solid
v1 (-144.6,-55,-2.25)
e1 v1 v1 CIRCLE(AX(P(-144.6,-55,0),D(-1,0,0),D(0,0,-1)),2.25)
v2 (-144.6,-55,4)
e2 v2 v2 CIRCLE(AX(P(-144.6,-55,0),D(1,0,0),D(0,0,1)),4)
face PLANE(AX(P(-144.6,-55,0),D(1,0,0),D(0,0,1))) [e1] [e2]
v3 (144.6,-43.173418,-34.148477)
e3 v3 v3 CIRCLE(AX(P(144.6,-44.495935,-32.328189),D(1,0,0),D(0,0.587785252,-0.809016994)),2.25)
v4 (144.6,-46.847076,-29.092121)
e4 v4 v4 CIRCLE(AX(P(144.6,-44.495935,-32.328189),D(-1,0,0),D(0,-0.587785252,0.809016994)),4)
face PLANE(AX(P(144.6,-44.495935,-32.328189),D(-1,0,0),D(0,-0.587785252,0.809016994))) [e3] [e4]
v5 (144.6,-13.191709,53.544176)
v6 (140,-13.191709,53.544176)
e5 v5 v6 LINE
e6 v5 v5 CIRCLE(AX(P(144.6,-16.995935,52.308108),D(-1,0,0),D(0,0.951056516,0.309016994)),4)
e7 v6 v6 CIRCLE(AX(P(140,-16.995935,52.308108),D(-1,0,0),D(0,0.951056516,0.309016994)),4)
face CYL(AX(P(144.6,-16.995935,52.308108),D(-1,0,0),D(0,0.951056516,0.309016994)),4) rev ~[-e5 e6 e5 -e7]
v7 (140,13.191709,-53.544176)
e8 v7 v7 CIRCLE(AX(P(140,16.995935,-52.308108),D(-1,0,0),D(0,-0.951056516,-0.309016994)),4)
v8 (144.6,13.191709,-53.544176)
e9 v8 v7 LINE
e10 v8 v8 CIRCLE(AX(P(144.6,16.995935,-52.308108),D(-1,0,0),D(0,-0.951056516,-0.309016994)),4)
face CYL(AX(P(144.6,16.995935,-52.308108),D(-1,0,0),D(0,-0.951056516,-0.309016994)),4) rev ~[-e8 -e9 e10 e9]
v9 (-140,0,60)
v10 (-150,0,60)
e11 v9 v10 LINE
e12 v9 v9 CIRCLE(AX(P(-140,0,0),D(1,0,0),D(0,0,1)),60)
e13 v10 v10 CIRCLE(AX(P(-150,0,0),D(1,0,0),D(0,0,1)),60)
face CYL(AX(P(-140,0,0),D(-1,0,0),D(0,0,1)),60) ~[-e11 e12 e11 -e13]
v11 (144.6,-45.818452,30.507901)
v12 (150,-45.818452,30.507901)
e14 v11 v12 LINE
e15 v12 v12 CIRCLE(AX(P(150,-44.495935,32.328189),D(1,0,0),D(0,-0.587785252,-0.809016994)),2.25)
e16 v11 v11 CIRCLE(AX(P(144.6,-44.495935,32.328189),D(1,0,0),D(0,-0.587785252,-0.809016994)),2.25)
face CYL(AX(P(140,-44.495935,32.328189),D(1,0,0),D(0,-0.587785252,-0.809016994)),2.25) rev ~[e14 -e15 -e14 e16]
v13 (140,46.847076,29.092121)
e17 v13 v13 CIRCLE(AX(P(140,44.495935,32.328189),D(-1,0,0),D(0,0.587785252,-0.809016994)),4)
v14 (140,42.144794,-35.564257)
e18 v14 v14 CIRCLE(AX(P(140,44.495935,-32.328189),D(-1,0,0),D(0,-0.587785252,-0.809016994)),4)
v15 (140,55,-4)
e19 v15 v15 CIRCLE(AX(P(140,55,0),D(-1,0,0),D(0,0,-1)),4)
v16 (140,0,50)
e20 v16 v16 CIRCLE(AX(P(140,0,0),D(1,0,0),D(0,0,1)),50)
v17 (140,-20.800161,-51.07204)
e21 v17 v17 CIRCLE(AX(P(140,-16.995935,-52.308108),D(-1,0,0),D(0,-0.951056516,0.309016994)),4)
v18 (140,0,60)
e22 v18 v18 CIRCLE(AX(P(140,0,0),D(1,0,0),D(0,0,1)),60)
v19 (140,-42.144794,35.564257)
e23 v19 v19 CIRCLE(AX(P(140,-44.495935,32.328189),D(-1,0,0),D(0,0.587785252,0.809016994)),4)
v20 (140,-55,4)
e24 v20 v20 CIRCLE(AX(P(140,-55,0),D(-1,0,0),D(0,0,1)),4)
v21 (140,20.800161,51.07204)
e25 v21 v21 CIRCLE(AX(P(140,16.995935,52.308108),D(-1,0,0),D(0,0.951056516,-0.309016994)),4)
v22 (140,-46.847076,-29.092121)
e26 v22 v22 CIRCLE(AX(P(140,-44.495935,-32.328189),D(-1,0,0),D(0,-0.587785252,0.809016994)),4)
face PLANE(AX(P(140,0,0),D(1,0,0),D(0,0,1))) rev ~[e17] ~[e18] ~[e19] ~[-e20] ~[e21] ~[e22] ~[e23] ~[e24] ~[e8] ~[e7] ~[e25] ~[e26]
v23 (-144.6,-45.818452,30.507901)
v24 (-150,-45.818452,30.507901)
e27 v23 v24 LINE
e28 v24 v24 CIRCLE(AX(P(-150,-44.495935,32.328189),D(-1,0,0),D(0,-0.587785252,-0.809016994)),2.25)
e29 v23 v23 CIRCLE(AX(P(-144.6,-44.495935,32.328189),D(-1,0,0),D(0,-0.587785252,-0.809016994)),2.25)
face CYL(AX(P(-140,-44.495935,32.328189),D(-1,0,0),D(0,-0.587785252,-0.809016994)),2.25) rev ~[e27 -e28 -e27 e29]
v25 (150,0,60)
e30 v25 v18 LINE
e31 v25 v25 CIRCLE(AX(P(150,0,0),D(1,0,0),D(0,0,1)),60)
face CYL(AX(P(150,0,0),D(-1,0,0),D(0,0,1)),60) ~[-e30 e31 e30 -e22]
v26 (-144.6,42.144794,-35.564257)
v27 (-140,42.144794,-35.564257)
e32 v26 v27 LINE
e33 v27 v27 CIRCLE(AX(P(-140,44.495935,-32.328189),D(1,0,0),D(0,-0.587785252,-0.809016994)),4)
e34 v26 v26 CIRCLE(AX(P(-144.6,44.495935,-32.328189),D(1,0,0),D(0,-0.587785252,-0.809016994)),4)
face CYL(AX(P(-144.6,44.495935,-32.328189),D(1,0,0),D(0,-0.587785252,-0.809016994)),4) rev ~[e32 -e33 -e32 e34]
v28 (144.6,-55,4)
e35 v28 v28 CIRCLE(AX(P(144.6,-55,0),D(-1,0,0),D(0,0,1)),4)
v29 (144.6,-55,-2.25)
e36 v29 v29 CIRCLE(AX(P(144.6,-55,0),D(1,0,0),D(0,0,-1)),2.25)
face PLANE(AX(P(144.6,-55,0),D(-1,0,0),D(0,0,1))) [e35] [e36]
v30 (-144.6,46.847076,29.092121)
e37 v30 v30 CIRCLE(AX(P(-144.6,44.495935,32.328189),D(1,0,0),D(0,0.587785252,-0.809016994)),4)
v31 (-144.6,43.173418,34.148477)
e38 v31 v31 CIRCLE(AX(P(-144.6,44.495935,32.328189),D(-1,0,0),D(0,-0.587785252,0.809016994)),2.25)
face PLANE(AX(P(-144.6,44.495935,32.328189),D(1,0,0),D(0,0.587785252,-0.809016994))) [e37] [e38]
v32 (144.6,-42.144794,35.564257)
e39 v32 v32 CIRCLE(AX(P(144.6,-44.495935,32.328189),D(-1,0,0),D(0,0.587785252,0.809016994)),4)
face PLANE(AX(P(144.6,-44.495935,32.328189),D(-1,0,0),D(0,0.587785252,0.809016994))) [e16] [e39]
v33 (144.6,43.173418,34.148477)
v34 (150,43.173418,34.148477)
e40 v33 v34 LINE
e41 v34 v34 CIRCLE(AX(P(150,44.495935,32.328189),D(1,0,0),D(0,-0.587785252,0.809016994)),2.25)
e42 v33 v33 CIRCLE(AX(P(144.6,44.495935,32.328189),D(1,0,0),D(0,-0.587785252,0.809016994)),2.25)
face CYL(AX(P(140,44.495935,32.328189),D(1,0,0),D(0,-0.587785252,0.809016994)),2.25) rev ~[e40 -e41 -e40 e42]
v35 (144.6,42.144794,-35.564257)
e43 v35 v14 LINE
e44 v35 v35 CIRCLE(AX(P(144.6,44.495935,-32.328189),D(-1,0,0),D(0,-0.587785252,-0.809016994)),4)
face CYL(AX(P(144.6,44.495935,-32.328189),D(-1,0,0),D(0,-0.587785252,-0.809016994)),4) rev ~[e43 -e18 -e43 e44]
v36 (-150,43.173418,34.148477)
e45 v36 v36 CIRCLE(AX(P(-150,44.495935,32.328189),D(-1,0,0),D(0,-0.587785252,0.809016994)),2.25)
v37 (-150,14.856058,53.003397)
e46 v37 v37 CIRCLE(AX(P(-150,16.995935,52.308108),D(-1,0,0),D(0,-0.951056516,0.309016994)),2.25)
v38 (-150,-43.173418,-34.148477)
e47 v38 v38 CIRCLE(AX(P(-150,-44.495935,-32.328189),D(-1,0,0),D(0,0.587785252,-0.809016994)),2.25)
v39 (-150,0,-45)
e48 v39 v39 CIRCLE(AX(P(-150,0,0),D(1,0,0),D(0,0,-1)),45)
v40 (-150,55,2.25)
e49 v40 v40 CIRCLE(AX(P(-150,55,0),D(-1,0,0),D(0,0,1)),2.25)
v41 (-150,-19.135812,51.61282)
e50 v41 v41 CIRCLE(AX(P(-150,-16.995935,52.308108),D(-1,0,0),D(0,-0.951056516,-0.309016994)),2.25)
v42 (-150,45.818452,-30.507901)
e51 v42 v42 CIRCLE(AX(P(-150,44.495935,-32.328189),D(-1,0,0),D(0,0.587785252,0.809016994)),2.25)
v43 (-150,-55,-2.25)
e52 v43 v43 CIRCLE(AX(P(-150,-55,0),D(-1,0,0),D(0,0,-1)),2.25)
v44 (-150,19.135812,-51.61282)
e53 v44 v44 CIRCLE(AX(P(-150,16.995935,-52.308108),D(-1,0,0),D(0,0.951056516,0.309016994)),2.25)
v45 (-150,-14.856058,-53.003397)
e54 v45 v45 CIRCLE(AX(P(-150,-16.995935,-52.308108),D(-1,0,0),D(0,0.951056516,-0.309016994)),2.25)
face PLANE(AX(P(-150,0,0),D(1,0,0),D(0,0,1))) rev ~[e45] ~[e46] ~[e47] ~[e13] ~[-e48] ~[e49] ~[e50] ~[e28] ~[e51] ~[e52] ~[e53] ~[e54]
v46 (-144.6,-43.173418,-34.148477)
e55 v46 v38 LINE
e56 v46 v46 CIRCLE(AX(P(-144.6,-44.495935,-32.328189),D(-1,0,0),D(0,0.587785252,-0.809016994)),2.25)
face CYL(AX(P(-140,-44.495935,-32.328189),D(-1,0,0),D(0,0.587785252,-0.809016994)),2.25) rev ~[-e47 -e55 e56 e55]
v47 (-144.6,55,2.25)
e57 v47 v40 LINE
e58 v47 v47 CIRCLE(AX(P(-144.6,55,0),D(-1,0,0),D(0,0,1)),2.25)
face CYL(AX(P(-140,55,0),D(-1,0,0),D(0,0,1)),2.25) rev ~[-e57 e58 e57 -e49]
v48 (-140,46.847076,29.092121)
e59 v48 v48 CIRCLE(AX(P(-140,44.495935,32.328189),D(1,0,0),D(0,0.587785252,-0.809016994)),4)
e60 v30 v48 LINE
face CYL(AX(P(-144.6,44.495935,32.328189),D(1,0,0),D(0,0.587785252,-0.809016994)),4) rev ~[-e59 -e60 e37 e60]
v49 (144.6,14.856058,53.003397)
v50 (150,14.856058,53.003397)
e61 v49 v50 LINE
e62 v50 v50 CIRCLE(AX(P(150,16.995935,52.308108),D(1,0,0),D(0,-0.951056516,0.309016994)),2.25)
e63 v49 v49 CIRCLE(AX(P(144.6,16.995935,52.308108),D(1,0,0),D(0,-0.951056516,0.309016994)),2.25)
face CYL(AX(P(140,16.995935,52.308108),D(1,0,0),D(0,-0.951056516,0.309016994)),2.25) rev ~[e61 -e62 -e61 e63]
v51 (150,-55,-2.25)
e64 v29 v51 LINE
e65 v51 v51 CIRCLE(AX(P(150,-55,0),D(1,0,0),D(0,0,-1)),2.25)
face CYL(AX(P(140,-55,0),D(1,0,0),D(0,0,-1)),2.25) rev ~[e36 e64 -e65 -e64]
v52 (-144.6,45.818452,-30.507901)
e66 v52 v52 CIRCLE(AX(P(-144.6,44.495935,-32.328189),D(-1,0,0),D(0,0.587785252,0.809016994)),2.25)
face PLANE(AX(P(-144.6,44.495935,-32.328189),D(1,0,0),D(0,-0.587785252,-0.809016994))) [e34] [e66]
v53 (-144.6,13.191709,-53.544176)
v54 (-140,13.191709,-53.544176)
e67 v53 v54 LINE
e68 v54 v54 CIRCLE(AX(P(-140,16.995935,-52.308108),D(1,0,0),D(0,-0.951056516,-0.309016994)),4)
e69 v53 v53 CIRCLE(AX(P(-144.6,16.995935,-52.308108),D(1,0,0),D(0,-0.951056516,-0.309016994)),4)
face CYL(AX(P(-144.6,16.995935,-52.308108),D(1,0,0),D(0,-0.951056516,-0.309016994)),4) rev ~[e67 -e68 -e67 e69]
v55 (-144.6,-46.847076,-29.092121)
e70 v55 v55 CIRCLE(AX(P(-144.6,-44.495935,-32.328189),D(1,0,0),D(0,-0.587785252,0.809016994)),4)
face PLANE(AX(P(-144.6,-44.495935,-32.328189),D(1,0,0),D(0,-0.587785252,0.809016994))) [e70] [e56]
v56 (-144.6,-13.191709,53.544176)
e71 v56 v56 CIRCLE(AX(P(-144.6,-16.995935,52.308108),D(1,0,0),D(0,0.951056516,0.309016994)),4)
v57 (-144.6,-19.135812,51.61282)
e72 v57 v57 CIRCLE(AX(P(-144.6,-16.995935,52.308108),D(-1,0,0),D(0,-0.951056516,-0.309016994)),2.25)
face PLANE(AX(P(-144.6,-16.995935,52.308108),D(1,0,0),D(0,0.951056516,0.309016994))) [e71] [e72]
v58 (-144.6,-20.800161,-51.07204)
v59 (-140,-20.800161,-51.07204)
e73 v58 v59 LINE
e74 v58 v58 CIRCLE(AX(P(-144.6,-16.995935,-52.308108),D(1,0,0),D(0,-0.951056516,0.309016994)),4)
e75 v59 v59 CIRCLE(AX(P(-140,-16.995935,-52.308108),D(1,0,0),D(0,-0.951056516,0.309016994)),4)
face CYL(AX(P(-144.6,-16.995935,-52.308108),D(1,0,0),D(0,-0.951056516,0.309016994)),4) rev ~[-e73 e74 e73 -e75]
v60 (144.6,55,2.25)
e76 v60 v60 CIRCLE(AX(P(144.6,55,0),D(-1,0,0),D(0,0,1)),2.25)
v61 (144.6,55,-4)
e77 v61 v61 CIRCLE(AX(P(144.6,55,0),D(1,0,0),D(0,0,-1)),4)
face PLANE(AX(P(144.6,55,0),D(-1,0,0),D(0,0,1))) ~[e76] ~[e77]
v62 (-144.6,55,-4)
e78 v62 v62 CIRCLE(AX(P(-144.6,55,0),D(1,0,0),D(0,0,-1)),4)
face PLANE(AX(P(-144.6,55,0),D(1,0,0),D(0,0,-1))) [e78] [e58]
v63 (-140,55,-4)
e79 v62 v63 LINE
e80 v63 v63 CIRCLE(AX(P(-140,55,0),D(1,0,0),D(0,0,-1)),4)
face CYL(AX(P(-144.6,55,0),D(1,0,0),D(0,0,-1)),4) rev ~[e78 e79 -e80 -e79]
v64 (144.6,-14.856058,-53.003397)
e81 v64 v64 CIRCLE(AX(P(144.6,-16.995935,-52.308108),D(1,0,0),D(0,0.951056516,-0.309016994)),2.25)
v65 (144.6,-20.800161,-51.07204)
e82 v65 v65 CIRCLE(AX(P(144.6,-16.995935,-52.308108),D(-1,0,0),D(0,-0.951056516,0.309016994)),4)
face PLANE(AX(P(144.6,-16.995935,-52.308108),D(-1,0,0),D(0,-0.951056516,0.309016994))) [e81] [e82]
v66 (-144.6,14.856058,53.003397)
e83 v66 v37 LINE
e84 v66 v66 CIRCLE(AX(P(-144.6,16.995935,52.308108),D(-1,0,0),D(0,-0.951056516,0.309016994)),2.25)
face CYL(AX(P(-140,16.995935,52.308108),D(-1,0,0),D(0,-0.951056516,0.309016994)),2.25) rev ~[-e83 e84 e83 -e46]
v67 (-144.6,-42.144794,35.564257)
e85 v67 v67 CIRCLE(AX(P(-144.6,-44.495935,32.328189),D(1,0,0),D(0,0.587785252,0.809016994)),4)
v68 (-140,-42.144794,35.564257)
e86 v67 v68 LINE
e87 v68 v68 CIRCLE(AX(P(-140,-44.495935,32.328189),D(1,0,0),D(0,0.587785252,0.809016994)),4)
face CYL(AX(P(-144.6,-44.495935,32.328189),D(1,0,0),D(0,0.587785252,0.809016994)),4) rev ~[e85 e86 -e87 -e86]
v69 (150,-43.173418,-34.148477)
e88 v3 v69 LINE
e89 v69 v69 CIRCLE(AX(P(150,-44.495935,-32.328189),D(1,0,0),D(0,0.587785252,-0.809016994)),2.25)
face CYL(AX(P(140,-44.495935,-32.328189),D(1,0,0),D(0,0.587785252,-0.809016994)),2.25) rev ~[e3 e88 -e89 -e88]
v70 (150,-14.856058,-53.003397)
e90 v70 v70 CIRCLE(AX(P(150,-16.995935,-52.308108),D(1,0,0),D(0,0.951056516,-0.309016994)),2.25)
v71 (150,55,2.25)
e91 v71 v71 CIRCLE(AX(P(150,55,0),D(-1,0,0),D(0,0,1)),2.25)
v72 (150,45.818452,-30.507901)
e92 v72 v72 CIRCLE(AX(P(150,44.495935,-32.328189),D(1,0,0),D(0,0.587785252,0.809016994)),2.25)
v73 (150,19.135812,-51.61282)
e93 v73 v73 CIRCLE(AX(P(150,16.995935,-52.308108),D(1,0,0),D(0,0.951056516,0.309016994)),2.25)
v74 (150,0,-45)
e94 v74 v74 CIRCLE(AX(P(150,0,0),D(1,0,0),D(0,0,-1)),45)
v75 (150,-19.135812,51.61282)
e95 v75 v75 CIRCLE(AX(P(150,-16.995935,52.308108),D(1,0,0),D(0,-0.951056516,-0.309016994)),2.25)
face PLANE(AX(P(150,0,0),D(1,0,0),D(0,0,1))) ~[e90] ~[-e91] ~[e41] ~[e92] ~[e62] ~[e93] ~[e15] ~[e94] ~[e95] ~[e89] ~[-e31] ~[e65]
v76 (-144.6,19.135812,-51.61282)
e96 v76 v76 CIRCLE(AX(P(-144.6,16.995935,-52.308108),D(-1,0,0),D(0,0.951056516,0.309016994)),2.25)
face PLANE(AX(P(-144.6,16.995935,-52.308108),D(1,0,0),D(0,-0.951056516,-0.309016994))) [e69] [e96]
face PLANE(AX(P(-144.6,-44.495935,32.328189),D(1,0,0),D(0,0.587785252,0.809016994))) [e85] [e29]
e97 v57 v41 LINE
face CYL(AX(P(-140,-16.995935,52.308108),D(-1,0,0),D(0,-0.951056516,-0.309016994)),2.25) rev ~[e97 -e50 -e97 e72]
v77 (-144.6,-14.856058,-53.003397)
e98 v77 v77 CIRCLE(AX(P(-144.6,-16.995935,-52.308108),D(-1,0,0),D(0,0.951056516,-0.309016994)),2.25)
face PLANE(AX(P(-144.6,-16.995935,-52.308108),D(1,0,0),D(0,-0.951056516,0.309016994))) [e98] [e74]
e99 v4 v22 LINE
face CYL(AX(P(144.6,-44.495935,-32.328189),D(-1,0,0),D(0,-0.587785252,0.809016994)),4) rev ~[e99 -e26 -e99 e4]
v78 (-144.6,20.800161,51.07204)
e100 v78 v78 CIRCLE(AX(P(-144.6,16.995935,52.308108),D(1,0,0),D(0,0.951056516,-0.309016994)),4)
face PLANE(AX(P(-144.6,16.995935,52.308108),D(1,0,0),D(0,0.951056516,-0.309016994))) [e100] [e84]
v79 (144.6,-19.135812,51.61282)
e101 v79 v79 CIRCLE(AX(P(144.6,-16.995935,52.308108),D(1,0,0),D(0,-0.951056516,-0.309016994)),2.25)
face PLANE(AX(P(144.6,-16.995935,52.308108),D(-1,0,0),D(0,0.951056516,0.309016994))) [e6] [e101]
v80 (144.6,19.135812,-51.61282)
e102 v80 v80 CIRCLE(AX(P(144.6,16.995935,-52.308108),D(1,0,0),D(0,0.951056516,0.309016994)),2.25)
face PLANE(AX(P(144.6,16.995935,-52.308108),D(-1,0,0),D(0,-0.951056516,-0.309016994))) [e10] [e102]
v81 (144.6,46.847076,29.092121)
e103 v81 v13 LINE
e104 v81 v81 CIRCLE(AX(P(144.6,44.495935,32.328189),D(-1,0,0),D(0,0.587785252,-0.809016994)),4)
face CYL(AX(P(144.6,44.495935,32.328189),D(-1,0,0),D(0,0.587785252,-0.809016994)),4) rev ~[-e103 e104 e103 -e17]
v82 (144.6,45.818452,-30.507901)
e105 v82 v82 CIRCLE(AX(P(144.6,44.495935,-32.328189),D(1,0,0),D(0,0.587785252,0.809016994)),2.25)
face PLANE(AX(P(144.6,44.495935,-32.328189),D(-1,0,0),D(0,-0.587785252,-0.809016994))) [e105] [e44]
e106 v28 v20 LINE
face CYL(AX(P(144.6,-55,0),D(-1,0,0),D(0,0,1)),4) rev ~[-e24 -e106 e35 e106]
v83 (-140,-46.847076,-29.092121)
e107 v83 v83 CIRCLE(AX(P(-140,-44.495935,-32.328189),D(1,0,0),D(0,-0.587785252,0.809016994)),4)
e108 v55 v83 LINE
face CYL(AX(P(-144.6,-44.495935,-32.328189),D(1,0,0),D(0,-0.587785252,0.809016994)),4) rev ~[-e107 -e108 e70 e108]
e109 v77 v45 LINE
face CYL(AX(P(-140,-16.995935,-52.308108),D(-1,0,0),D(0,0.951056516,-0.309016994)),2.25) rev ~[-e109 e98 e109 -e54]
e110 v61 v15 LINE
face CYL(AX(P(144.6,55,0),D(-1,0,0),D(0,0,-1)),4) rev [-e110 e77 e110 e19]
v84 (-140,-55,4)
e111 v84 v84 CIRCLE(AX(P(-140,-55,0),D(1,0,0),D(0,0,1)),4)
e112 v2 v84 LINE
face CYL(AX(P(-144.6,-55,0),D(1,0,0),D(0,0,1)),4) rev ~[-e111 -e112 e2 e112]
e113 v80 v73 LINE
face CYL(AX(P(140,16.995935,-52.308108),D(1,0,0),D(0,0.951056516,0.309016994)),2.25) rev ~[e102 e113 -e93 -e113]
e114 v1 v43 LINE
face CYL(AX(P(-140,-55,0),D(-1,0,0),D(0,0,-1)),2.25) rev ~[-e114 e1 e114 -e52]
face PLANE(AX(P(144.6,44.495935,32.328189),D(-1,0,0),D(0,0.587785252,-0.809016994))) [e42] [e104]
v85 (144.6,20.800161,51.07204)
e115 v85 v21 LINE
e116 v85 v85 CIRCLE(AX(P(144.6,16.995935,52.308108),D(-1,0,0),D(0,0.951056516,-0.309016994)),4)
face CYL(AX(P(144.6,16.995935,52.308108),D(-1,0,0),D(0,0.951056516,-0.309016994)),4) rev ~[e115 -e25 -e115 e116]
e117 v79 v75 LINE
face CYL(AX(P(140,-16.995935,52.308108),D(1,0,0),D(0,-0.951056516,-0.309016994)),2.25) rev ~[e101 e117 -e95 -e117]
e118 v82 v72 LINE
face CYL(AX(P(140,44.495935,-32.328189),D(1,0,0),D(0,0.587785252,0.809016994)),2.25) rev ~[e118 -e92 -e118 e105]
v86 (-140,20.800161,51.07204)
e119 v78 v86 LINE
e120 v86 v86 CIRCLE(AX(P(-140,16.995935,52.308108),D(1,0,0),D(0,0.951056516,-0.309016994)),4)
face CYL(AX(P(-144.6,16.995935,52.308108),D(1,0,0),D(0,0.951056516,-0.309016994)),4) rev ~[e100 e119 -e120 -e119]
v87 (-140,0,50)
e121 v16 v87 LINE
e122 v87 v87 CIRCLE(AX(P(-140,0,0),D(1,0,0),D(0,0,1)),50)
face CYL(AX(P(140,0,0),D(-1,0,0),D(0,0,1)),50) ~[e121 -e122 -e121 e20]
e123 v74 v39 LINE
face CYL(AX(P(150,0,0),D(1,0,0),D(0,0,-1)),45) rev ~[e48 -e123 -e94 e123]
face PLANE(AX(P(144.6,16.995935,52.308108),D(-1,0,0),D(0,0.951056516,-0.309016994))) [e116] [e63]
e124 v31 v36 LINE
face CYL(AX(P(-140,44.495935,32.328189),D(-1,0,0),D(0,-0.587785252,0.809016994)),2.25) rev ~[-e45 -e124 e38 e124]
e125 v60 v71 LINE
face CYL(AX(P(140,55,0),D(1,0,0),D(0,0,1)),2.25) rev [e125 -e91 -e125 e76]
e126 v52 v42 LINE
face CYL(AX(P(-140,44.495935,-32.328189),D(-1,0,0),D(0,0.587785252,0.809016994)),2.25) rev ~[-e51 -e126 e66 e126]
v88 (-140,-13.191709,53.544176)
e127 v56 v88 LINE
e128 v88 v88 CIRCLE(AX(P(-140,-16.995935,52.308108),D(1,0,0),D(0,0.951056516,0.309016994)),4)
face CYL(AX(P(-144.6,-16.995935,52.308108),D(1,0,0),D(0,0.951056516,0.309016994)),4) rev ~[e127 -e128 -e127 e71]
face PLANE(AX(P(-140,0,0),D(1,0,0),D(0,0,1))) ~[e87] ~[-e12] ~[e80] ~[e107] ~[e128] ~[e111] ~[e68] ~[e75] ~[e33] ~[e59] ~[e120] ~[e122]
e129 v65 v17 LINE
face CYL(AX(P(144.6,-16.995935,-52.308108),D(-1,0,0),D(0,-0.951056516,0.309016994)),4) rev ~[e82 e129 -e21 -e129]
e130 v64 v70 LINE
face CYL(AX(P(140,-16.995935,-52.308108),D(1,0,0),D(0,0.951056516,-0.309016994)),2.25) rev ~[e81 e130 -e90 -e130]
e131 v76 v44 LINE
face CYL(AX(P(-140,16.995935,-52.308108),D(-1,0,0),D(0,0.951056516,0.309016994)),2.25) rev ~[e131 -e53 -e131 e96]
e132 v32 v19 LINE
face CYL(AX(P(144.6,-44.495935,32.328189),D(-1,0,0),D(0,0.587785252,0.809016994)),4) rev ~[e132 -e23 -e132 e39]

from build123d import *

# Parameters (mm, degrees)
SKETCH_3_R                  = 45
CUT_EXTRUDE_1_DEPTH         = 312.769145362
HOLE_WIZARD_4_D             = 4.5
HOLE_WIZARD_4_DEPTH         = 10
HOLE_WIZARD_4_CBORE_D       = 8
HOLE_WIZARD_4_CBORE_DEPTH   = 4.6
PATTERN_CIRCULAR_1_COUNT    = 10
MIRROR_1_COPY_1_D           = 4.5
MIRROR_1_COPY_1_DEPTH       = 10
MIRROR_1_COPY_1_CBORE_D     = 8
MIRROR_1_COPY_1_CBORE_DEPTH = 4.6
MIRROR_1_COPY_2_D           = 4.5
MIRROR_1_COPY_2_DEPTH       = 10
MIRROR_1_COPY_2_CBORE_D     = 8
MIRROR_1_COPY_2_CBORE_DEPTH = 4.6
MIRROR_1_COPY_3_D           = 4.5
MIRROR_1_COPY_3_DEPTH       = 10
MIRROR_1_COPY_3_CBORE_D     = 8
MIRROR_1_COPY_3_CBORE_DEPTH = 4.6
MIRROR_1_COPY_4_D           = 4.5
MIRROR_1_COPY_4_DEPTH       = 10
MIRROR_1_COPY_4_CBORE_D     = 8
MIRROR_1_COPY_4_CBORE_DEPTH = 4.6
MIRROR_1_COPY_5_D           = 4.5
MIRROR_1_COPY_5_DEPTH       = 10
MIRROR_1_COPY_5_CBORE_D     = 8
MIRROR_1_COPY_5_CBORE_DEPTH = 4.6
MIRROR_1_COPY_6_D           = 4.5
MIRROR_1_COPY_6_DEPTH       = 10
MIRROR_1_COPY_6_CBORE_D     = 8
MIRROR_1_COPY_6_CBORE_DEPTH = 4.6
MIRROR_1_COPY_7_D           = 4.5
MIRROR_1_COPY_7_DEPTH       = 10
MIRROR_1_COPY_7_CBORE_D     = 8
MIRROR_1_COPY_7_CBORE_DEPTH = 4.6
MIRROR_1_COPY_8_D           = 4.5
MIRROR_1_COPY_8_DEPTH       = 10
MIRROR_1_COPY_8_CBORE_D     = 8
MIRROR_1_COPY_8_CBORE_DEPTH = 4.6
MIRROR_1_COPY_9_D           = 4.5
MIRROR_1_COPY_9_DEPTH       = 10
MIRROR_1_COPY_9_CBORE_D     = 8
MIRROR_1_COPY_9_CBORE_DEPTH = 4.6


with BuildPart() as part:
    # 草图1 → 旋转1 (revolve)
    with BuildSketch(Plane.XY, mode=Mode.PRIVATE) as revolve_1_sk:
        Polygon((140, 50), (-140, 50), (-140, 60), (-150, 60), (-150, 0), (150, 0), (150, 60), (140, 60), align=None)
    revolve(revolve_1_sk.sketch.rotate(Axis((-150, 0, 0), (1, 0, 0)), 90), axis=Axis((-150, 0, 0), (1, 0, 0)))

    # 草图3 → 切除-拉伸1 (cut, through all)
    with BuildSketch(Plane(origin=(150, 0, 0), x_dir=(0, 0, -1), z_dir=(1, 0, 0))):
        Circle(SKETCH_3_R)
    extrude(amount=-CUT_EXTRUDE_1_DEPTH, mode=Mode.SUBTRACT)

    # 打孔尺寸(%根据)内六角圆柱头螺钉的类型4
    with Locations(Plane(origin=(-140, 0, 0), x_dir=(0, 0, -1), z_dir=(1, 0, 0))):
        with Locations((0, 55)):
            hole_wizard_4 = CounterBoreHole(HOLE_WIZARD_4_D / 2, HOLE_WIZARD_4_CBORE_D / 2, HOLE_WIZARD_4_CBORE_DEPTH, depth=HOLE_WIZARD_4_DEPTH)

    # 阵列(圆周)1: 打孔尺寸(%根据)内六角圆柱头螺钉的类型4 ×10 about axis
    pattern_circular_1_axis = Axis((0, 0, 0), (1, 0, 0))
    for i in range(1, PATTERN_CIRCULAR_1_COUNT):
        add(hole_wizard_4.rotate(pattern_circular_1_axis, i * 360 / PATTERN_CIRCULAR_1_COUNT), mode=Mode.SUBTRACT)

    # 镜向1: 打孔尺寸(%根据)内六角圆柱头螺钉的类型4 across plane
    add(hole_wizard_4.mirror(Plane(origin=(0, 0, 0), x_dir=(0, 0, 1), z_dir=(1, 0, 0))), mode=Mode.SUBTRACT)

    # 镜向1 copy 1
    with Locations(Plane(origin=(140, 0, 0), x_dir=(0, 0.5877852522924731, -0.8090169943749475), z_dir=(-1, 0, 0))):
        with Locations((0, -55)):
            CounterBoreHole(MIRROR_1_COPY_1_D / 2, MIRROR_1_COPY_1_CBORE_D / 2, MIRROR_1_COPY_1_CBORE_DEPTH, depth=MIRROR_1_COPY_1_DEPTH)

    # 镜向1 copy 2
    with Locations(Plane(origin=(140, 0, 0), x_dir=(0, 0.9510565162951535, -0.30901699437494745), z_dir=(-1, 0, 0))):
        with Locations((0, -55)):
            CounterBoreHole(MIRROR_1_COPY_2_D / 2, MIRROR_1_COPY_2_CBORE_D / 2, MIRROR_1_COPY_2_CBORE_DEPTH, depth=MIRROR_1_COPY_2_DEPTH)

    # 镜向1 copy 3
    with Locations(Plane(origin=(140, 0, 0), x_dir=(0, 0.9510565162951536, 0.30901699437494734), z_dir=(-1, 0, 0))):
        with Locations((0, -55)):
            CounterBoreHole(MIRROR_1_COPY_3_D / 2, MIRROR_1_COPY_3_CBORE_D / 2, MIRROR_1_COPY_3_CBORE_DEPTH, depth=MIRROR_1_COPY_3_DEPTH)

    # 镜向1 copy 4
    with Locations(Plane(origin=(140, 0, 0), x_dir=(0, 0.5877852522924732, 0.8090169943749473), z_dir=(-1, 0, 0))):
        with Locations((0, -55)):
            CounterBoreHole(MIRROR_1_COPY_4_D / 2, MIRROR_1_COPY_4_CBORE_D / 2, MIRROR_1_COPY_4_CBORE_DEPTH, depth=MIRROR_1_COPY_4_DEPTH)

    # 镜向1 copy 5
    with Locations(Plane.ZY.offset(-140)):
        with Locations((0, -55)):
            CounterBoreHole(MIRROR_1_COPY_5_D / 2, MIRROR_1_COPY_5_CBORE_D / 2, MIRROR_1_COPY_5_CBORE_DEPTH, depth=MIRROR_1_COPY_5_DEPTH)

    # 镜向1 copy 6
    with Locations(Plane(origin=(140, 0, 0), x_dir=(0, -0.587785252292473, 0.8090169943749476), z_dir=(-1, 0, 0))):
        with Locations((0, -55)):
            CounterBoreHole(MIRROR_1_COPY_6_D / 2, MIRROR_1_COPY_6_CBORE_D / 2, MIRROR_1_COPY_6_CBORE_DEPTH, depth=MIRROR_1_COPY_6_DEPTH)

    # 镜向1 copy 7
    with Locations(Plane(origin=(140, 0, 0), x_dir=(0, -0.9510565162951535, 0.30901699437494756), z_dir=(-1, 0, 0))):
        with Locations((0, -55)):
            CounterBoreHole(MIRROR_1_COPY_7_D / 2, MIRROR_1_COPY_7_CBORE_D / 2, MIRROR_1_COPY_7_CBORE_DEPTH, depth=MIRROR_1_COPY_7_DEPTH)

    # 镜向1 copy 8
    with Locations(Plane(origin=(140, 0, 0), x_dir=(0, -0.9510565162951536, -0.30901699437494723), z_dir=(-1, 0, 0))):
        with Locations((0, -55)):
            CounterBoreHole(MIRROR_1_COPY_8_D / 2, MIRROR_1_COPY_8_CBORE_D / 2, MIRROR_1_COPY_8_CBORE_DEPTH, depth=MIRROR_1_COPY_8_DEPTH)

    # 镜向1 copy 9
    with Locations(Plane(origin=(140, 0, 0), x_dir=(0, -0.5877852522924734, -0.8090169943749473), z_dir=(-1, 0, 0))):
        with Locations((0, -55)):
            CounterBoreHole(MIRROR_1_COPY_9_D / 2, MIRROR_1_COPY_9_CBORE_D / 2, MIRROR_1_COPY_9_CBORE_DEPTH, depth=MIRROR_1_COPY_9_DEPTH)


solid = part.part
